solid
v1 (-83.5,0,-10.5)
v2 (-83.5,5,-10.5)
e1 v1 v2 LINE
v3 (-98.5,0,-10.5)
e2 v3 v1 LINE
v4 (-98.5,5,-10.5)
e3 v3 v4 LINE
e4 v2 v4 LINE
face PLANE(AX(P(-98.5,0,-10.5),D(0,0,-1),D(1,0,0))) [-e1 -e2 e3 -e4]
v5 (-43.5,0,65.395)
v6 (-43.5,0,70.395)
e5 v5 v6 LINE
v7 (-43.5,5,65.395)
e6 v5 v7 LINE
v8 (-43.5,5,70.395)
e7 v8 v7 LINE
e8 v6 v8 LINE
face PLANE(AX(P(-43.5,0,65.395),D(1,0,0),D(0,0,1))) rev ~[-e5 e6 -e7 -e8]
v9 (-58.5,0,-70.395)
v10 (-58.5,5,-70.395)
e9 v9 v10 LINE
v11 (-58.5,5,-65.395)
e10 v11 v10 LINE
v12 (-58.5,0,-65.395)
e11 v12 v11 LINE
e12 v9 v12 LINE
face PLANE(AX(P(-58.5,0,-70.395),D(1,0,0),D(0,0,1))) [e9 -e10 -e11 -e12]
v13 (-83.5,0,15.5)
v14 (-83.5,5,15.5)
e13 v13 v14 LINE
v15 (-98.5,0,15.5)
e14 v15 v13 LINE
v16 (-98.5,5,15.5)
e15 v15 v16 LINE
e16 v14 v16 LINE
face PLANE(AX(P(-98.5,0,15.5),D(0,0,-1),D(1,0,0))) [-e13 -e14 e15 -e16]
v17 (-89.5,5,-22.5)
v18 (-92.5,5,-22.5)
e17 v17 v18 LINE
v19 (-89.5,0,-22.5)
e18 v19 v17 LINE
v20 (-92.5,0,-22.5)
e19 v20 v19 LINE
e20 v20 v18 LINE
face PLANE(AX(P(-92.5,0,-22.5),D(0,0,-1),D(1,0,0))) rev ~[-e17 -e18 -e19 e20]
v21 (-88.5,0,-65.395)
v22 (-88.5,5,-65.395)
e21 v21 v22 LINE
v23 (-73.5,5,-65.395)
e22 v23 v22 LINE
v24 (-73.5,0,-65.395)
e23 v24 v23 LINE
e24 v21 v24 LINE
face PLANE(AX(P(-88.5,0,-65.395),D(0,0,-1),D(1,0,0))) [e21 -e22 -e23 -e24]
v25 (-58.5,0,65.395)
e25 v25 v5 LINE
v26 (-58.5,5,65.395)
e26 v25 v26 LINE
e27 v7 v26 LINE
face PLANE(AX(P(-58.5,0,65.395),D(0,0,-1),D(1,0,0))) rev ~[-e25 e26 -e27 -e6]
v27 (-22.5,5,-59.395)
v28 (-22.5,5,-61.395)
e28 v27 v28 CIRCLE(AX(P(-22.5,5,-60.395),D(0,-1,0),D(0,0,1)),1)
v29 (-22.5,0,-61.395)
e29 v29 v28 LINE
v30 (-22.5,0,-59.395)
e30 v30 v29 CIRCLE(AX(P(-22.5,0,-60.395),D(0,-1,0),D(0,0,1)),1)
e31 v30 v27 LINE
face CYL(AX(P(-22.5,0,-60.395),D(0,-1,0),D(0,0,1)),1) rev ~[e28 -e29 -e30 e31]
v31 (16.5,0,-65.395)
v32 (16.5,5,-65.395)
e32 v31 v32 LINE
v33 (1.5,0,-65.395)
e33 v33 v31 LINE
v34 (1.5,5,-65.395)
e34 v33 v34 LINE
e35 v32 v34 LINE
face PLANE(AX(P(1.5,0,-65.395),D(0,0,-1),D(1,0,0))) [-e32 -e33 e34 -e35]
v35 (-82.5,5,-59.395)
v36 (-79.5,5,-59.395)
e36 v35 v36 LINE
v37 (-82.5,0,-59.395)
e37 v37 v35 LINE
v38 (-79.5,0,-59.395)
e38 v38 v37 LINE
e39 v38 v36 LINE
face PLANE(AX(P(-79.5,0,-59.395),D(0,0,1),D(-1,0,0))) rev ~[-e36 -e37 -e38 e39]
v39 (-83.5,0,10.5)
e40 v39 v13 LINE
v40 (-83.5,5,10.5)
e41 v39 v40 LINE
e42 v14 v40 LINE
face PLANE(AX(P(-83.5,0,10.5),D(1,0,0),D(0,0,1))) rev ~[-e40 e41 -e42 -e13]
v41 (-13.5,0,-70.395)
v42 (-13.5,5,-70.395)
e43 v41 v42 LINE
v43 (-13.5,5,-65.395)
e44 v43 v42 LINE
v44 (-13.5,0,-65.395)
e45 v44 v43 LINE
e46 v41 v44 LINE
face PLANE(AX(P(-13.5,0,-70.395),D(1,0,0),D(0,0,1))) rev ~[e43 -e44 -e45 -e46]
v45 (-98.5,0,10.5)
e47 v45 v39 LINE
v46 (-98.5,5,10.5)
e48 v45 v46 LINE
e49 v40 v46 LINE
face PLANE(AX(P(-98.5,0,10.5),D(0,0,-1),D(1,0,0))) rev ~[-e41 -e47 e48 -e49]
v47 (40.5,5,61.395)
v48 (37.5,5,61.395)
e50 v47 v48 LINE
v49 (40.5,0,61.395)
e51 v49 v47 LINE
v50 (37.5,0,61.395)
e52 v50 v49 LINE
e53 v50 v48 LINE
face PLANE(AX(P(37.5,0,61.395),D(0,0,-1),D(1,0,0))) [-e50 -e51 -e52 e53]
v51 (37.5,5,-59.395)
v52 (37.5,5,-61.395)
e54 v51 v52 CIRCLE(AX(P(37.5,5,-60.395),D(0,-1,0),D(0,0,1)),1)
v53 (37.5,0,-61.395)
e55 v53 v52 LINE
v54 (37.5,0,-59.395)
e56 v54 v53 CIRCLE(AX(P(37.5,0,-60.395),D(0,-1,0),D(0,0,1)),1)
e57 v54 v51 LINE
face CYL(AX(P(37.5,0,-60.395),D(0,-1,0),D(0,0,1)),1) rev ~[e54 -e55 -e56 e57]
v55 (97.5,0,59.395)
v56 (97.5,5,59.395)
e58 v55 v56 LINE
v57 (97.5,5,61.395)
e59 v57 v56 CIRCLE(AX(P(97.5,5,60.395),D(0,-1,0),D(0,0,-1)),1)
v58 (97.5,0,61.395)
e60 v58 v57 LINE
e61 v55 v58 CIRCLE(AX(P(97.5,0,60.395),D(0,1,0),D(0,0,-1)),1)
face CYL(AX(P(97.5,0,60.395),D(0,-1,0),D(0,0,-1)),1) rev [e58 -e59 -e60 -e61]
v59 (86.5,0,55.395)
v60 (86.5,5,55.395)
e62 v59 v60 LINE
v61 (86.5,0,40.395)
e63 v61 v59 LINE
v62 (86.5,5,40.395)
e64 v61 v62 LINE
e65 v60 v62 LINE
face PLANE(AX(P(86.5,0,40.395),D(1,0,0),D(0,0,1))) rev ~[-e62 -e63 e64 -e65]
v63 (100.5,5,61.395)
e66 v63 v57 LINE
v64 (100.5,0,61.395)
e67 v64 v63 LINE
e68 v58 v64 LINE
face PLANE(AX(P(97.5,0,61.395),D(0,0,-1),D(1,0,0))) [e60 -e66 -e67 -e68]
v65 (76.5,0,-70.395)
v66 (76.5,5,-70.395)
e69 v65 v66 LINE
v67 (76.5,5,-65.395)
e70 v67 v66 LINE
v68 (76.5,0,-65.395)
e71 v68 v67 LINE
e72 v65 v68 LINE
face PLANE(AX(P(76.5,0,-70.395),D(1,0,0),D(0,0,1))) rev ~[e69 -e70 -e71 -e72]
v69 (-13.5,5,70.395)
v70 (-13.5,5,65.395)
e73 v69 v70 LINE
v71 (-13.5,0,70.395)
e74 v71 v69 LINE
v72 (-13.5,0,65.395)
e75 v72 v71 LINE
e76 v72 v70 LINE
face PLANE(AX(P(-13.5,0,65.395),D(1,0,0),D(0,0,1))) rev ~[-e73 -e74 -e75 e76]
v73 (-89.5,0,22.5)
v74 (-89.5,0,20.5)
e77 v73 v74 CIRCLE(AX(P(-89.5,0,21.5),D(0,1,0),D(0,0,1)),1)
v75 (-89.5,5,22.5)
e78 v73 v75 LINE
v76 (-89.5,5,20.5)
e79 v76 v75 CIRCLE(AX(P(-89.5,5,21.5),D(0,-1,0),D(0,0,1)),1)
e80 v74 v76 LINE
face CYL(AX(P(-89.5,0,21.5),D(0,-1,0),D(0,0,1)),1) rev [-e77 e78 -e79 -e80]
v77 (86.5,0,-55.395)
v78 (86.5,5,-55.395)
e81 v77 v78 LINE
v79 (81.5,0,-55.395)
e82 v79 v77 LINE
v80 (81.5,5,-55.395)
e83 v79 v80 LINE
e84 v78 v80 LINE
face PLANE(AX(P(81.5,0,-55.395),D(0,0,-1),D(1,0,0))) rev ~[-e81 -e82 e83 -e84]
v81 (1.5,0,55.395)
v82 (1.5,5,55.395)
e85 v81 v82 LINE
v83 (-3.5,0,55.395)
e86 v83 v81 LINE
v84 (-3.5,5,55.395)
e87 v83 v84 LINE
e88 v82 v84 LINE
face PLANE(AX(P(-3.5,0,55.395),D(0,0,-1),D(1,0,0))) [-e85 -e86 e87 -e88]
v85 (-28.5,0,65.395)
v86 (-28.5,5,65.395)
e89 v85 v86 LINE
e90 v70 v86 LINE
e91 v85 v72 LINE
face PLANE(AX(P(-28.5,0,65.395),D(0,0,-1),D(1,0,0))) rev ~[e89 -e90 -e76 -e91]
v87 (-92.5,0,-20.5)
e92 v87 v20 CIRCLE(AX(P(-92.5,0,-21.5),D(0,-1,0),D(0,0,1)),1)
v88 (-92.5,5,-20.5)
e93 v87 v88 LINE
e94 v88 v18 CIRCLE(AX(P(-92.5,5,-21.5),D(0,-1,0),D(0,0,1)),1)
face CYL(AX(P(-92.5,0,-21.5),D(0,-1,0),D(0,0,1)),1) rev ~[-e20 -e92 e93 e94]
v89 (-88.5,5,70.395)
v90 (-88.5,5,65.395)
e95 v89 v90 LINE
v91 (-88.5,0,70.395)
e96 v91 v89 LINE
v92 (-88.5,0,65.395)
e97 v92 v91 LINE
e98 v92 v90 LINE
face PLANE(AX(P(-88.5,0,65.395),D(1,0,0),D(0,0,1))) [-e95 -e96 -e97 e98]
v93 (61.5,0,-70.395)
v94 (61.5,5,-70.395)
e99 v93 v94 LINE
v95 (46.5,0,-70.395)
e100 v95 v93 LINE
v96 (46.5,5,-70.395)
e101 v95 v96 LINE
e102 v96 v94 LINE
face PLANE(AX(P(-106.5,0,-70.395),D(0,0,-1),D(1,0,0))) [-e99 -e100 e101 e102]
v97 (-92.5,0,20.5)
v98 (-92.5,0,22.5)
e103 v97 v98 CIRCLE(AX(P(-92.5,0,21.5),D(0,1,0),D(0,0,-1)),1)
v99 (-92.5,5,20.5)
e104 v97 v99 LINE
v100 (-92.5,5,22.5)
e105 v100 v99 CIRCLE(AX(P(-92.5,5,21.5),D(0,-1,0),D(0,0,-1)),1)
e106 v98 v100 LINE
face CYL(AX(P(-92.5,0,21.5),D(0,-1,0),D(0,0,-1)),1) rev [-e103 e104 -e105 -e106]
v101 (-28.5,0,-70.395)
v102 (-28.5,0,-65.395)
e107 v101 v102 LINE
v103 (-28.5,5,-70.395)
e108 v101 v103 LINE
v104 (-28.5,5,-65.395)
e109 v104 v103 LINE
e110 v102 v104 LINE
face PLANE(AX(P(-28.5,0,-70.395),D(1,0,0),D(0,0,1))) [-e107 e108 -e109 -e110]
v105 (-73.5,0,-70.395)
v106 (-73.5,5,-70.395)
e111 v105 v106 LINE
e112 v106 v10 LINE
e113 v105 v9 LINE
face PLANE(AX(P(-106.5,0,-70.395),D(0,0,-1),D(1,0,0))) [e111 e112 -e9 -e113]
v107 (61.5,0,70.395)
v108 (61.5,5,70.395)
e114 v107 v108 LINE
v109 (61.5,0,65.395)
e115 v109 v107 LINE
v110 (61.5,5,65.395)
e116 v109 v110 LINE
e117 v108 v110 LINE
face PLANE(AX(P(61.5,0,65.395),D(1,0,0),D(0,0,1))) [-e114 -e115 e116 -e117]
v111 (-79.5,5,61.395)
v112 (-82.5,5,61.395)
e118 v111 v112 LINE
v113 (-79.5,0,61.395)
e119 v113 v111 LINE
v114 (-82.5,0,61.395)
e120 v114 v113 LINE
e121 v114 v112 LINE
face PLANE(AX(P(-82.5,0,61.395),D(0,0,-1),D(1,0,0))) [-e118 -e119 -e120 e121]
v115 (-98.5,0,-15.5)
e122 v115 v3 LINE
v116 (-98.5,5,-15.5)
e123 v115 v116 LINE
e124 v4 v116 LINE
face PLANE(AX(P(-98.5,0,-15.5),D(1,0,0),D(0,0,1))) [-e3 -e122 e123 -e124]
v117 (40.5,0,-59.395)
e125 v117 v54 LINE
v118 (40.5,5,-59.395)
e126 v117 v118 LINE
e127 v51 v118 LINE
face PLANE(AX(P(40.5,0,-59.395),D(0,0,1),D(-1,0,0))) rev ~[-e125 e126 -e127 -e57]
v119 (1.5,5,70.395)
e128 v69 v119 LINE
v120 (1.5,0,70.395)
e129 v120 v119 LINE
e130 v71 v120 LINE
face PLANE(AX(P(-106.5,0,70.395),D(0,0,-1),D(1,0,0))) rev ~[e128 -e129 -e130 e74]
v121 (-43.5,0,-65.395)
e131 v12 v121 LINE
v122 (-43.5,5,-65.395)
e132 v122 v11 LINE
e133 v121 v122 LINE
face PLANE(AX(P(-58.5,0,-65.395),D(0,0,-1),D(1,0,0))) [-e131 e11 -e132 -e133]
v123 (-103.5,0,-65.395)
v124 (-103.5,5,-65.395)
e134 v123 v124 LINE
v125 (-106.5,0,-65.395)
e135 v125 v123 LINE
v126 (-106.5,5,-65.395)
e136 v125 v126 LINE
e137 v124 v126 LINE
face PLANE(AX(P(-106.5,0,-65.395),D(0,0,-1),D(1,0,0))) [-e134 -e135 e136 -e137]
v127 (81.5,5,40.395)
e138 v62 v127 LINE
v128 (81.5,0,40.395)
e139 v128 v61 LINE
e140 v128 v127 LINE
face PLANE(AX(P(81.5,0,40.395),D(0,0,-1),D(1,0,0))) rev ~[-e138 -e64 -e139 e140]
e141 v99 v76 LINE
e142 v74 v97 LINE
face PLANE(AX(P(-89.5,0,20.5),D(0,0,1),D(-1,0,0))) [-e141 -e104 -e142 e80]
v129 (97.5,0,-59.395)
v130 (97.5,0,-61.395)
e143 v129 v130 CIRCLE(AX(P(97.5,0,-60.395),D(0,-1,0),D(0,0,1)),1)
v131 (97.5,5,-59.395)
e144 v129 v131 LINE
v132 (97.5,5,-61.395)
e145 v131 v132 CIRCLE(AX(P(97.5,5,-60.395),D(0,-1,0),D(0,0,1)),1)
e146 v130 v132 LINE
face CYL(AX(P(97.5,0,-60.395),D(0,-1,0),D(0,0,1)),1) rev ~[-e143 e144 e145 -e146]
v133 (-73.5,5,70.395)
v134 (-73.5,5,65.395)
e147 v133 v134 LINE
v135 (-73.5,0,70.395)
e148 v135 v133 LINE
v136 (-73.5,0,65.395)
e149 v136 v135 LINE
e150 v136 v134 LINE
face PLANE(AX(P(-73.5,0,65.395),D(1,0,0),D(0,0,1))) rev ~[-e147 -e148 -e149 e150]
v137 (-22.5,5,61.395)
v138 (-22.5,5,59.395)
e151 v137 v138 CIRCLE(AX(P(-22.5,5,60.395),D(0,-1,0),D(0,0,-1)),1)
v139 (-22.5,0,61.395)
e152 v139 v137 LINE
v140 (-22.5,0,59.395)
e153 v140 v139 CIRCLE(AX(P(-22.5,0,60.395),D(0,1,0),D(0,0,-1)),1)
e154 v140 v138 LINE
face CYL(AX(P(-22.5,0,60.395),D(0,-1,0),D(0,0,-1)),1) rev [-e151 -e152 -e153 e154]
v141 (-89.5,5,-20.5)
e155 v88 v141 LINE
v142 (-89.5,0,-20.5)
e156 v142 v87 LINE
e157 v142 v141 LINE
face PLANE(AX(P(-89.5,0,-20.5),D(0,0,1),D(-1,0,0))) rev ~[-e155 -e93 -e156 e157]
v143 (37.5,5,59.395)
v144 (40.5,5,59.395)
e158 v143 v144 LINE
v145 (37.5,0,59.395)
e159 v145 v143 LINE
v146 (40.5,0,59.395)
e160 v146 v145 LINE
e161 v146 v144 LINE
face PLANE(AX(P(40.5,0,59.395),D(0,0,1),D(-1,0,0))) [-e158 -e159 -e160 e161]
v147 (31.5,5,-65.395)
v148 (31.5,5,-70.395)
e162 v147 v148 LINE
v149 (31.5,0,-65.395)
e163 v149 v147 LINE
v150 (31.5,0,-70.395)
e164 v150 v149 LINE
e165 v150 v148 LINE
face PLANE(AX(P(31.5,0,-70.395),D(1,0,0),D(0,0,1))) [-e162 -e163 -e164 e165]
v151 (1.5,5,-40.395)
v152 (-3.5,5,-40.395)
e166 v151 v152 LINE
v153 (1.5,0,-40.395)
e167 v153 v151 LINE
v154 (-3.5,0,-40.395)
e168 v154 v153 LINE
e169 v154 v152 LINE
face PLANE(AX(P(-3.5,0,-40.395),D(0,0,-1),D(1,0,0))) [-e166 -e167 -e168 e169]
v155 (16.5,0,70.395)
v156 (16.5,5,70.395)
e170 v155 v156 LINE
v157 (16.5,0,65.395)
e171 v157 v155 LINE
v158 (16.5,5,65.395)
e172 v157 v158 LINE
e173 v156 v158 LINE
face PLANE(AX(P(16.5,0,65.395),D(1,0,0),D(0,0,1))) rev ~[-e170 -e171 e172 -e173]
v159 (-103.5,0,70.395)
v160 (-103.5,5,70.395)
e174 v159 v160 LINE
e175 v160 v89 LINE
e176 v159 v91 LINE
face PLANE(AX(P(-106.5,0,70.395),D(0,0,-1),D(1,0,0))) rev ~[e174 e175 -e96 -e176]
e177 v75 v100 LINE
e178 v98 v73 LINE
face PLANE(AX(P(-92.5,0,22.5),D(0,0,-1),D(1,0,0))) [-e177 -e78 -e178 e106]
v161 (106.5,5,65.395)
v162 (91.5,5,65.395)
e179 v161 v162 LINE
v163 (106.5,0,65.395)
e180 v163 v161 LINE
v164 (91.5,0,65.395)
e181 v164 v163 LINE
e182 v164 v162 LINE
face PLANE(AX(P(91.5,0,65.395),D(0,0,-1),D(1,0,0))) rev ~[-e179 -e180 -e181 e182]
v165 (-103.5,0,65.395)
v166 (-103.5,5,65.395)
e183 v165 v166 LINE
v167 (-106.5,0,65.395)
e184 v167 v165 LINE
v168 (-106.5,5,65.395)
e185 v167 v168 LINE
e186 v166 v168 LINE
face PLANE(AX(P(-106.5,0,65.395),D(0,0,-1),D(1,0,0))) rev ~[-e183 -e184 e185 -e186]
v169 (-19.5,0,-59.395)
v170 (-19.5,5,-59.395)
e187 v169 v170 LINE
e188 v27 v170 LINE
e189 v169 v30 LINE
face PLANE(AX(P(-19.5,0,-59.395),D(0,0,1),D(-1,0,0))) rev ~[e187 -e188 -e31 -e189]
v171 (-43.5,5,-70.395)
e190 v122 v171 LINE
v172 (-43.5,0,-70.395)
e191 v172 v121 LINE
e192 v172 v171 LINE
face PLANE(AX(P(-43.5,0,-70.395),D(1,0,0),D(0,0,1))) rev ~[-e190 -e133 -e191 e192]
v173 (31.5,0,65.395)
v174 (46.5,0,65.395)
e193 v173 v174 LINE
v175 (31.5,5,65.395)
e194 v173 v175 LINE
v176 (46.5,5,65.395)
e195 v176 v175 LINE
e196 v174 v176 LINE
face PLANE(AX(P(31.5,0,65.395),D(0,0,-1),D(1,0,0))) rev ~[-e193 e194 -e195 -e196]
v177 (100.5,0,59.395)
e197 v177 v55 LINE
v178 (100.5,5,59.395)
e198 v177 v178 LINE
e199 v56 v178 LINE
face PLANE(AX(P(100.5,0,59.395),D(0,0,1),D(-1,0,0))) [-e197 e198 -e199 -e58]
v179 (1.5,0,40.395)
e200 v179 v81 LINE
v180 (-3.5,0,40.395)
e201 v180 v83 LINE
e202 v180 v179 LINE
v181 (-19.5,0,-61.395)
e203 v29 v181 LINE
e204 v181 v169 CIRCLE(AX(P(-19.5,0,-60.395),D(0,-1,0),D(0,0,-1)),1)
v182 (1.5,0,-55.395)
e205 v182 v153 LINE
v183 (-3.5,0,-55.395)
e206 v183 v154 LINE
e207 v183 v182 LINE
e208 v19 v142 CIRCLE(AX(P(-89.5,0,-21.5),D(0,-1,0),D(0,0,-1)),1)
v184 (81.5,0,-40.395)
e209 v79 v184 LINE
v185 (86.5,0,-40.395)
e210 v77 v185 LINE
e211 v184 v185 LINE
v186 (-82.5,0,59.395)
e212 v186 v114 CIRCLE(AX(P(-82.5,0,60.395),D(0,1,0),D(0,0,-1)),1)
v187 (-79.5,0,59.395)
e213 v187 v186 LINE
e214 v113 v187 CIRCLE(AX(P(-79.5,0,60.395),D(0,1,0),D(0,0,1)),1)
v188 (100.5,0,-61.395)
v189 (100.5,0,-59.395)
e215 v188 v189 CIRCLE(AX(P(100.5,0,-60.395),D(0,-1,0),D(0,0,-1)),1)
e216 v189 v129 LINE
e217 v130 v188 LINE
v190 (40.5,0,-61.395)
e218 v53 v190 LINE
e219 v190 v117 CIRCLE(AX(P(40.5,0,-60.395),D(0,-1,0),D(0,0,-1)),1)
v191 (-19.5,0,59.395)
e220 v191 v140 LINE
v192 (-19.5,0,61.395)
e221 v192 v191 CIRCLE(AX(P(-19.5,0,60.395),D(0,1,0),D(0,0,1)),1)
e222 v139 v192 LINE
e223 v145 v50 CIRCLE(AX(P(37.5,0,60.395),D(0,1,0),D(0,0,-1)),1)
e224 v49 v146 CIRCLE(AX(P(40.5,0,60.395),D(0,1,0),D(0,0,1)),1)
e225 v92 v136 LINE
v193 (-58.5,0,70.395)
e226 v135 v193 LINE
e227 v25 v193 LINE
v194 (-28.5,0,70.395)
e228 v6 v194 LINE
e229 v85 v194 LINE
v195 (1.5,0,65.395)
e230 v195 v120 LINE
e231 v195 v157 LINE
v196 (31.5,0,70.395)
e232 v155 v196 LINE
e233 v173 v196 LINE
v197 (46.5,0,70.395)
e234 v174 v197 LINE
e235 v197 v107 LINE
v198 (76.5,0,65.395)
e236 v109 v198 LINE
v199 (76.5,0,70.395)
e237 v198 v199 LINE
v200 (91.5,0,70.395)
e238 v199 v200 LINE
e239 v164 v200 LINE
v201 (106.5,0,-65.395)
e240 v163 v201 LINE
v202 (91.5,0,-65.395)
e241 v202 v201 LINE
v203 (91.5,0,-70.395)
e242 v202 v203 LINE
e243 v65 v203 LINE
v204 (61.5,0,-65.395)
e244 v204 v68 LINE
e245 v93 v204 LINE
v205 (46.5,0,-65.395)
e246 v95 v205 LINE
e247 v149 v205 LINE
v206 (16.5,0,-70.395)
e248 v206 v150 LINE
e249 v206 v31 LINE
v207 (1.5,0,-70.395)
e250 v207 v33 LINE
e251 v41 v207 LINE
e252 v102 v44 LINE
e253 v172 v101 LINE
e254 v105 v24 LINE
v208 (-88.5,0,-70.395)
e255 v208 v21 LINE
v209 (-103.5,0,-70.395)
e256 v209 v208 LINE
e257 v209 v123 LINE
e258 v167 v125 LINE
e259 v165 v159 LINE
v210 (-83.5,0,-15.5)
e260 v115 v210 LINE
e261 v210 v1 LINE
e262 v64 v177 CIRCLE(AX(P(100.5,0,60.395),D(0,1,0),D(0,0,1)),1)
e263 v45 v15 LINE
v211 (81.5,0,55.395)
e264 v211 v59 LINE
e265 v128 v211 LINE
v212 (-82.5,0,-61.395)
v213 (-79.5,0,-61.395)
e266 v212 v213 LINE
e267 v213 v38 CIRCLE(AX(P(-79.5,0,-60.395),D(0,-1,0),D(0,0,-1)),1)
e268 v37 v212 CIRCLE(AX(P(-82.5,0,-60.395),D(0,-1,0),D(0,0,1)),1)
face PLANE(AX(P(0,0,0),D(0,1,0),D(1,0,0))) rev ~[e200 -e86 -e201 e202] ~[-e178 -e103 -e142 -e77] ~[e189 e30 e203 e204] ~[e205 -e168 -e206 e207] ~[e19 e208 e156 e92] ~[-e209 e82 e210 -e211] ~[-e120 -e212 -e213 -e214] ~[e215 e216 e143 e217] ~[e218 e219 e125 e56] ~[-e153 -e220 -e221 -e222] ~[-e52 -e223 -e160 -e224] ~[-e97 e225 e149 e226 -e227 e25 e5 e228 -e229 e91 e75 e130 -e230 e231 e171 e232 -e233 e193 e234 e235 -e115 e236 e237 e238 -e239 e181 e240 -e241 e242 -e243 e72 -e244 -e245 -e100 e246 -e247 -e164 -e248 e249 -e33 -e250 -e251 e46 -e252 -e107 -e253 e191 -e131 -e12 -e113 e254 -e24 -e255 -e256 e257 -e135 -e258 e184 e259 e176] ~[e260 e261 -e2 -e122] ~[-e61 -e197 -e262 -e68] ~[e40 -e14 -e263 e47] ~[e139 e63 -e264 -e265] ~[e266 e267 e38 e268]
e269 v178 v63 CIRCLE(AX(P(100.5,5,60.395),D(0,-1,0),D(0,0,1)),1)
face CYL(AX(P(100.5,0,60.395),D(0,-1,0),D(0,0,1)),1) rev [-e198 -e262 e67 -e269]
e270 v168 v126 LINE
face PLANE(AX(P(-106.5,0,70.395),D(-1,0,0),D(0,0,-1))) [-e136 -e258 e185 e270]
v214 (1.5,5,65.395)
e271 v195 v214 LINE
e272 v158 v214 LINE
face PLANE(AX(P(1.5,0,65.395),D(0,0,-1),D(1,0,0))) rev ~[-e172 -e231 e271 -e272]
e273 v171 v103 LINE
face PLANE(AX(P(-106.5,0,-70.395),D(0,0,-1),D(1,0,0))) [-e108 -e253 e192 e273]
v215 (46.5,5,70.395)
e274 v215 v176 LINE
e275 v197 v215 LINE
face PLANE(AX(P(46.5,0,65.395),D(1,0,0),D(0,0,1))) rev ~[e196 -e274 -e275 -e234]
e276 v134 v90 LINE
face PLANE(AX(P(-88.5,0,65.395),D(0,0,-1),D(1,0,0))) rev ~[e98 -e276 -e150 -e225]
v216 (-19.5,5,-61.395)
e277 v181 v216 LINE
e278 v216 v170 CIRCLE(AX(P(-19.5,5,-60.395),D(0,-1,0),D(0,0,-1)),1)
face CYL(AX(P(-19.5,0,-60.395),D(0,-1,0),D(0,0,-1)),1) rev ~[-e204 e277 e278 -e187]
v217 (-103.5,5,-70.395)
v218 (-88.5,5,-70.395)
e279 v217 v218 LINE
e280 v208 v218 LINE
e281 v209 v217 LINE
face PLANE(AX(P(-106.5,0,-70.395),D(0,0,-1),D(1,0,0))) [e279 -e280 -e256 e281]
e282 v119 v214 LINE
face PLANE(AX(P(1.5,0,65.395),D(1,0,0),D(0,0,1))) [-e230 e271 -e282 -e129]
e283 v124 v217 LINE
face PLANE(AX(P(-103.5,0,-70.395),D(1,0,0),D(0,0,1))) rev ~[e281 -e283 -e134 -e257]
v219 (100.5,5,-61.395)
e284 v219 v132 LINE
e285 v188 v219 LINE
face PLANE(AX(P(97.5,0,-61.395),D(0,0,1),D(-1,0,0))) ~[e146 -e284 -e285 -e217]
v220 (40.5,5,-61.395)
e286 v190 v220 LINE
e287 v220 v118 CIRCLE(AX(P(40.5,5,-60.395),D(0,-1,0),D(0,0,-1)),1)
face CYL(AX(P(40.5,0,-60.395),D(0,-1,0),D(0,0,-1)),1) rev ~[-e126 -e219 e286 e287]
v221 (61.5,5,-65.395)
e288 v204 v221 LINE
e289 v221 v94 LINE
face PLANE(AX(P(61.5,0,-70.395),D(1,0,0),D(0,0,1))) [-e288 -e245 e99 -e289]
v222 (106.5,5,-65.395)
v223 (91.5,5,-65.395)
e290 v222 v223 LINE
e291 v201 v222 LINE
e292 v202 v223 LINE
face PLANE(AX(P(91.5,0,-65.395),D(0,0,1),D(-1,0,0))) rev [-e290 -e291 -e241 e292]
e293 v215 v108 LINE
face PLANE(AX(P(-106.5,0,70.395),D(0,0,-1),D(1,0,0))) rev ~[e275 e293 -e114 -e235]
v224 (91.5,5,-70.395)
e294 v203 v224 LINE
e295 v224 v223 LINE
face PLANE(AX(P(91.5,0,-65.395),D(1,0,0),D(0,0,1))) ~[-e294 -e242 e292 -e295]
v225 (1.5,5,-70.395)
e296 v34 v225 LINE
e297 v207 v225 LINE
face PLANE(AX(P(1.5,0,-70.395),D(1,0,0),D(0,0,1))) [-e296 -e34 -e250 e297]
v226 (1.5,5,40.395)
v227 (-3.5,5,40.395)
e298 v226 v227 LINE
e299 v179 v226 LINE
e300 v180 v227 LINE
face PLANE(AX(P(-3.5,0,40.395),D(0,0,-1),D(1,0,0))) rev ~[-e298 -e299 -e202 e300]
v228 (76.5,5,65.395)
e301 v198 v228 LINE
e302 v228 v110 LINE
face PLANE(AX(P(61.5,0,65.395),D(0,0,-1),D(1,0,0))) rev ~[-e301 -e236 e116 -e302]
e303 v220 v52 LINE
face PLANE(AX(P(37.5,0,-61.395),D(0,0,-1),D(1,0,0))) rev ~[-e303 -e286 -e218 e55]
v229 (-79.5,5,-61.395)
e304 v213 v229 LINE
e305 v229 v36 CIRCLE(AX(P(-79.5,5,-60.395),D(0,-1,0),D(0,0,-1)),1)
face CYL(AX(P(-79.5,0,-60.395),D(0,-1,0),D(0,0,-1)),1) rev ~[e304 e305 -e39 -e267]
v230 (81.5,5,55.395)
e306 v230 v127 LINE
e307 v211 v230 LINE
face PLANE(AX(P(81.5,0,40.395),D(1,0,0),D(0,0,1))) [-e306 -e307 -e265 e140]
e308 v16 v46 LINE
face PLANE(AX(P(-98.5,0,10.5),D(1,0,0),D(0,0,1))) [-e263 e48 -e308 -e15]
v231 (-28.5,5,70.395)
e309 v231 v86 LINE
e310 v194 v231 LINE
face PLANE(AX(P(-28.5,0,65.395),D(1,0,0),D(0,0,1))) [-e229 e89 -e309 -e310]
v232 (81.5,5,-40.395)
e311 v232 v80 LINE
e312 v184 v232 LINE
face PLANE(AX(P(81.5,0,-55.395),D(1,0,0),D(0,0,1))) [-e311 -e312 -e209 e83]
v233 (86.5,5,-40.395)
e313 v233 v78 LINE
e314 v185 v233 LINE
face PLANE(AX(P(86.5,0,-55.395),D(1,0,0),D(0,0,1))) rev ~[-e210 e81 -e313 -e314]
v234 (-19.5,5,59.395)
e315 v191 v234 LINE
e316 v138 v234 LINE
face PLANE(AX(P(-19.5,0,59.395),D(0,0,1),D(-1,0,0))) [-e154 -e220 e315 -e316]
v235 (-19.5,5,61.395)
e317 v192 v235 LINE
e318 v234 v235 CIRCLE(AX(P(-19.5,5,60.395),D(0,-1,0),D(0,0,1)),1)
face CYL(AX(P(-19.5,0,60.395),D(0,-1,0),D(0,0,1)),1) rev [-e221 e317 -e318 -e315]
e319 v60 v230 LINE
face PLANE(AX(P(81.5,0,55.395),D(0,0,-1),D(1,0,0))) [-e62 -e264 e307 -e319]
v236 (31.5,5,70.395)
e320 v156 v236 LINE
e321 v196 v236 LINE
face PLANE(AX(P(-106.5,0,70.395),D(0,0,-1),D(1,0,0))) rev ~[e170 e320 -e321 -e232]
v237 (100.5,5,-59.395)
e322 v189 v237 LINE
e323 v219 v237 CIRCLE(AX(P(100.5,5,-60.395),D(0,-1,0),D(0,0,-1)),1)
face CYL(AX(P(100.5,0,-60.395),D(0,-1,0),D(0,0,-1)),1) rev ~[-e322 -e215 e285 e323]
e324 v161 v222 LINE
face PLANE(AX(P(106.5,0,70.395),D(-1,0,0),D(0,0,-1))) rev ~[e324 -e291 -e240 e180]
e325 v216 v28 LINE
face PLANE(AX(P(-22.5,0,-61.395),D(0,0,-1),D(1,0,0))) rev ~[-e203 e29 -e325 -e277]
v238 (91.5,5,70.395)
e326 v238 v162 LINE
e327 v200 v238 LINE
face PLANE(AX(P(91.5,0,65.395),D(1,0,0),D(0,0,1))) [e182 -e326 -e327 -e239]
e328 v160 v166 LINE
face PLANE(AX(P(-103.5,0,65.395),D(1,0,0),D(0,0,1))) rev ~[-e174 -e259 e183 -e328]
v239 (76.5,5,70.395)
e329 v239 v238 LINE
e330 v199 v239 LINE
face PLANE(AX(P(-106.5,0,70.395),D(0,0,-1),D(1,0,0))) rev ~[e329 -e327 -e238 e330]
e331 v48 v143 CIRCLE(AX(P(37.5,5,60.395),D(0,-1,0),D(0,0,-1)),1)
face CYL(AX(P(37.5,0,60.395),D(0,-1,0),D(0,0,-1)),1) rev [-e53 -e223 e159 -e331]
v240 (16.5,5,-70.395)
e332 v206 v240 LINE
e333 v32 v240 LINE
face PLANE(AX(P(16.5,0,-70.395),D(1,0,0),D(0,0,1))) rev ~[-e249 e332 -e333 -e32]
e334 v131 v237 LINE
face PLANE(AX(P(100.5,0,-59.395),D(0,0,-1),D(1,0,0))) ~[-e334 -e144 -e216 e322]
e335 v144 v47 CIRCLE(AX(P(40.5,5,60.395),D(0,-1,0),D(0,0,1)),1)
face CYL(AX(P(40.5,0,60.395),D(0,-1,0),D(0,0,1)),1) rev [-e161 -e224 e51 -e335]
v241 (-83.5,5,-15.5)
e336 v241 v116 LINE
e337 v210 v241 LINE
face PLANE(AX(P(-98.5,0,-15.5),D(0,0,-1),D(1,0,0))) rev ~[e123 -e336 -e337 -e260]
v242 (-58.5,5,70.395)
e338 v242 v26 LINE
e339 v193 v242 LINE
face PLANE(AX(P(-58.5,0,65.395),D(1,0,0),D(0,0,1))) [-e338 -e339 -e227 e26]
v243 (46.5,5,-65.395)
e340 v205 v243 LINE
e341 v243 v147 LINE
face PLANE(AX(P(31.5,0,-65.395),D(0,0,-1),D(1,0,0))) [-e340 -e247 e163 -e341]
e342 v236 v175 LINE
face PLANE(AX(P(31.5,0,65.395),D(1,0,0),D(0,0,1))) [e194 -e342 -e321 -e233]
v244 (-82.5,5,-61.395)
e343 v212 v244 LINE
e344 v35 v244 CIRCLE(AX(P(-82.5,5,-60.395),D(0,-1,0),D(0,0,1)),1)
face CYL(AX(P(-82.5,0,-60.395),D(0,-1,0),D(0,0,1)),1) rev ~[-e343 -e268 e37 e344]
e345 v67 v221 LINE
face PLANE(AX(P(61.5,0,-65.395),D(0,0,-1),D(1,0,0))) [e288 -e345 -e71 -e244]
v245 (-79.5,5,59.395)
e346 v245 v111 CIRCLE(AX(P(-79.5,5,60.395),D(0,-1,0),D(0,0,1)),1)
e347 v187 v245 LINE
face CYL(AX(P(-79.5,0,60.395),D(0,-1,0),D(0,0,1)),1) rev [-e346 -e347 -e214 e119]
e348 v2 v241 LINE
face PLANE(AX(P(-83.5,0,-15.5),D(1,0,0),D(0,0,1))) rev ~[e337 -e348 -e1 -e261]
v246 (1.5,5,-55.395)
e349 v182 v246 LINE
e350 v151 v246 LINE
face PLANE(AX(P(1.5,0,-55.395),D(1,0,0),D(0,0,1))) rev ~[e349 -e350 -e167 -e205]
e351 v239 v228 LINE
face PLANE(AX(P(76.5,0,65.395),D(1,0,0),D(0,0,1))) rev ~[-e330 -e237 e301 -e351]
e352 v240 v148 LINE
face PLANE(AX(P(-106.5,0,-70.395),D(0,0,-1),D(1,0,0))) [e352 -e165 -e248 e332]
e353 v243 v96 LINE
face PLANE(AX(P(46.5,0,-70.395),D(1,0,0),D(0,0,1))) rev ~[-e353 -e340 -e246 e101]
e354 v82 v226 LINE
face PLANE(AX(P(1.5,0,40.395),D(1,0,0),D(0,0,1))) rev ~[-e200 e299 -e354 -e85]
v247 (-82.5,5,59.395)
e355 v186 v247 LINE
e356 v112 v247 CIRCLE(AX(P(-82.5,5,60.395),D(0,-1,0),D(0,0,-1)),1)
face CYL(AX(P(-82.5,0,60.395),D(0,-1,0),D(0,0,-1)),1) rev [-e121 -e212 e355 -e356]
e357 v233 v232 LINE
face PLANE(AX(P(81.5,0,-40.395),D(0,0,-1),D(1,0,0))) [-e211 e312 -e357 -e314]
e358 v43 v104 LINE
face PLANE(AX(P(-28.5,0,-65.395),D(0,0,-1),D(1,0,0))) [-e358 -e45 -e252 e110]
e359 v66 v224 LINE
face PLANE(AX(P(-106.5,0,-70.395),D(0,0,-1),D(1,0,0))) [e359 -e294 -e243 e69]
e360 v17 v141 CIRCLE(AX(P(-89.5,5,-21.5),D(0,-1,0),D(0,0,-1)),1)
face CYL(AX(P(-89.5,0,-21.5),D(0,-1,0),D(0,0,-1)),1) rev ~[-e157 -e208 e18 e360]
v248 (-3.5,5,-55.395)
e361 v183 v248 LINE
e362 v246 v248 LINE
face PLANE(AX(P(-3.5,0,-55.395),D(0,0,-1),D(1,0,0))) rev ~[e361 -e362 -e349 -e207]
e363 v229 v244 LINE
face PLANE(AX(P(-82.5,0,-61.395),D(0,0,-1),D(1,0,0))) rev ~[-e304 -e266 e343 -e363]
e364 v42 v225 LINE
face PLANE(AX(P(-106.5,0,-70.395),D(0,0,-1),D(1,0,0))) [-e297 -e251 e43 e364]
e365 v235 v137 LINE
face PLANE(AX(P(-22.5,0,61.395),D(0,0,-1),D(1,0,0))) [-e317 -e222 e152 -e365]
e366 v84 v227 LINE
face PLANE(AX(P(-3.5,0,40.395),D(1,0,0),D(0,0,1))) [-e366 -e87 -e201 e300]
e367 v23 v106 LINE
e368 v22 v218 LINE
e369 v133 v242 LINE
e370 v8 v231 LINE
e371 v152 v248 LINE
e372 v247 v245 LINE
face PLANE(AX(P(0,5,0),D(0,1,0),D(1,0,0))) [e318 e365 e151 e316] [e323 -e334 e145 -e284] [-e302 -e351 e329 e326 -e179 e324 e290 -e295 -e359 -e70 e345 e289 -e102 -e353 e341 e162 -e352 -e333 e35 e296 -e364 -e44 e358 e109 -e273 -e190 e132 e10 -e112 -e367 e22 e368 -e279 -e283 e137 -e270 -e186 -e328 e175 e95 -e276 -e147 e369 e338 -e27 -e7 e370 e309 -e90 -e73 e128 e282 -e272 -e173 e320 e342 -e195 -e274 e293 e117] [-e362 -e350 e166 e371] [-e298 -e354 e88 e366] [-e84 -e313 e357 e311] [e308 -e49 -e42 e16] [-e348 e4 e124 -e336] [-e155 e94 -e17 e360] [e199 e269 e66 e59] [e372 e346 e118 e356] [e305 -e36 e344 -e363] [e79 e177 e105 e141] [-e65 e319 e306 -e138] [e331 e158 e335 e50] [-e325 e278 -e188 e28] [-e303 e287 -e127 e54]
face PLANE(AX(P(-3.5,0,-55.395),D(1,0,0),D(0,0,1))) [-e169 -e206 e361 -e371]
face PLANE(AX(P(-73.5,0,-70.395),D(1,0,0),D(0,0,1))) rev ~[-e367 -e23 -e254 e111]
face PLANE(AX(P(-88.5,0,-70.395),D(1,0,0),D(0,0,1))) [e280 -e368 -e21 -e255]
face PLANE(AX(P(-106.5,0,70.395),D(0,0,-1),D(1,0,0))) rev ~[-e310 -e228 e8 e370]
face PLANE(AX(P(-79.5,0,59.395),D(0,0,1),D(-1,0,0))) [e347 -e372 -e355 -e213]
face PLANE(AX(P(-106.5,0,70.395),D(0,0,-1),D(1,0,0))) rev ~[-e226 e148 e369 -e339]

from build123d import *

# Parameters (mm, degrees)
SKETCH1_W                 = 213
SKETCH1_H                 = 140.79
BOSS_EXTRUDE1_DEPTH       = 5
SKETCH2_W                 = 15
SKETCH2_H                 = 5
CUT_EXTRUDE1_DEPTH        = 128.760346059
CUT_EXTRUDE3_DEPTH        = 128.760346059
LPATTERN2_COUNT           = 4
LPATTERN2_PITCH           = 60
LPATTERN1_COUNT           = 7
LPATTERN1_PITCH           = 30
LPATTERN1_COPY_1_SKETCH_W = 15
LPATTERN1_COPY_1_SKETCH_H = 5
LPATTERN1_COPY_1_DEPTH    = 128.760346059
LPATTERN1_COPY_2_SKETCH_W = 15
LPATTERN1_COPY_2_SKETCH_H = 5
LPATTERN1_COPY_2_DEPTH    = 128.760346059
LPATTERN1_COPY_3_SKETCH_W = 15
LPATTERN1_COPY_3_SKETCH_H = 5
LPATTERN1_COPY_3_DEPTH    = 128.760346059
LPATTERN1_COPY_4_SKETCH_W = 15
LPATTERN1_COPY_4_SKETCH_H = 5
LPATTERN1_COPY_4_DEPTH    = 128.760346059
LPATTERN1_COPY_5_SKETCH_W = 15
LPATTERN1_COPY_5_SKETCH_H = 5
LPATTERN1_COPY_5_DEPTH    = 128.760346059
LPATTERN1_COPY_6_SKETCH_W = 15
LPATTERN1_COPY_6_SKETCH_H = 5
LPATTERN1_COPY_6_DEPTH    = 128.760346059
SKETCH3_W                 = 5
SKETCH3_H                 = 15
SKETCH3_W_2               = 15
SKETCH3_H_2               = 5
CUT_EXTRUDE2_DEPTH        = 128.760346059
MIRROR2_COPY_1_DEPTH      = 128.760346059
MIRROR2_COPY_2_DEPTH      = 128.760346059
MIRROR2_COPY_3_DEPTH      = 128.760346059
CUT_EXTRUDE4_DEPTH        = 128.760346059
SKETCH7_W                 = 3
SKETCH7_H                 = 5
CUT_EXTRUDE5_DEPTH        = 128.760346059


with BuildPart() as part:
    # Sketch1 → Boss-Extrude1 (new body)
    with BuildSketch(Plane(origin=(0, 0, 0), x_dir=(1, 0, 0), z_dir=(0, 1, 0))):
        Rectangle(SKETCH1_W, SKETCH1_H)
    extrude(amount=BOSS_EXTRUDE1_DEPTH)

    # Sketch2 → Cut-Extrude1 (cut, through all)
    with BuildSketch(Plane.XZ):
        with Locations((99, 67.895)):
            Rectangle(SKETCH2_W, SKETCH2_H)
    cut_extrude1 = extrude(amount=-CUT_EXTRUDE1_DEPTH, mode=Mode.SUBTRACT)

    # Sketch5 → Cut-Extrude3 (cut, through all)
    with BuildSketch(Plane.XZ):
        with BuildLine():
            Line((100.5, 59.395), (97.5, 59.395))
            ThreePointArc((97.5, 59.395), (96.5, 60.395), (97.5, 61.395))
            Line((97.5, 61.395), (100.5, 61.395))
            ThreePointArc((100.5, 61.395), (101.5, 60.395), (100.5, 59.395))
        make_face()
    cut_extrude3 = extrude(amount=-CUT_EXTRUDE3_DEPTH, mode=Mode.SUBTRACT)

    # LPattern2: Cut-Extrude3 ×4
    with Locations(*[(-i * LPATTERN2_PITCH, 0, 0) for i in range(1, LPATTERN2_COUNT)]):
        add(cut_extrude3, mode=Mode.SUBTRACT)

    # Mirror1: Cut-Extrude1 across plane
    add(cut_extrude1.mirror(Plane.XY), mode=Mode.SUBTRACT)

    # LPattern1: Cut-Extrude1 ×7
    with Locations(*[(-i * LPATTERN1_PITCH, 0, 0) for i in range(1, LPATTERN1_COUNT)]):
        add(cut_extrude1, mode=Mode.SUBTRACT)

    # LPattern1 copy 1 sketch → LPattern1 copy 1 (cut, through all)
    with BuildSketch(Plane(origin=(-30, 0, 0), x_dir=(1, 0, 0), z_dir=(0, -1, 0))):
        with Locations((99, -67.895)):
            Rectangle(LPATTERN1_COPY_1_SKETCH_W, LPATTERN1_COPY_1_SKETCH_H)
    extrude(amount=-LPATTERN1_COPY_1_DEPTH, mode=Mode.SUBTRACT)

    # LPattern1 copy 2 sketch → LPattern1 copy 2 (cut, through all)
    with BuildSketch(Plane(origin=(-60, 0, 0), x_dir=(1, 0, 0), z_dir=(0, -1, 0))):
        with Locations((99, -67.895)):
            Rectangle(LPATTERN1_COPY_2_SKETCH_W, LPATTERN1_COPY_2_SKETCH_H)
    extrude(amount=-LPATTERN1_COPY_2_DEPTH, mode=Mode.SUBTRACT)

    # LPattern1 copy 3 sketch → LPattern1 copy 3 (cut, through all)
    with BuildSketch(Plane(origin=(-90, 0, 0), x_dir=(1, 0, 0), z_dir=(0, -1, 0))):
        with Locations((99, -67.895)):
            Rectangle(LPATTERN1_COPY_3_SKETCH_W, LPATTERN1_COPY_3_SKETCH_H)
    extrude(amount=-LPATTERN1_COPY_3_DEPTH, mode=Mode.SUBTRACT)

    # LPattern1 copy 4 sketch → LPattern1 copy 4 (cut, through all)
    with BuildSketch(Plane(origin=(-120, 0, 0), x_dir=(1, 0, 0), z_dir=(0, -1, 0))):
        with Locations((99, -67.895)):
            Rectangle(LPATTERN1_COPY_4_SKETCH_W, LPATTERN1_COPY_4_SKETCH_H)
    extrude(amount=-LPATTERN1_COPY_4_DEPTH, mode=Mode.SUBTRACT)

    # LPattern1 copy 5 sketch → LPattern1 copy 5 (cut, through all)
    with BuildSketch(Plane(origin=(-150, 0, 0), x_dir=(1, 0, 0), z_dir=(0, -1, 0))):
        with Locations((99, -67.895)):
            Rectangle(LPATTERN1_COPY_5_SKETCH_W, LPATTERN1_COPY_5_SKETCH_H)
    extrude(amount=-LPATTERN1_COPY_5_DEPTH, mode=Mode.SUBTRACT)

    # LPattern1 copy 6 sketch → LPattern1 copy 6 (cut, through all)
    with BuildSketch(Plane(origin=(-180, 0, 0), x_dir=(1, 0, 0), z_dir=(0, -1, 0))):
        with Locations((99, -67.895)):
            Rectangle(LPATTERN1_COPY_6_SKETCH_W, LPATTERN1_COPY_6_SKETCH_H)
    extrude(amount=-LPATTERN1_COPY_6_DEPTH, mode=Mode.SUBTRACT)

    # Sketch3 → Cut-Extrude2 (cut, through all)
    with BuildSketch(Plane.XZ):
        with Locations((-1, 47.895)):
            Rectangle(SKETCH3_W, SKETCH3_H)
        with Locations((-1, -47.895)):
            Rectangle(SKETCH3_W, SKETCH3_H)
        with Locations((84, -47.895)):
            Rectangle(SKETCH3_W, SKETCH3_H)
        with Locations((84, 47.895)):
            Rectangle(SKETCH3_W, SKETCH3_H)
        with Locations((-91, 13)):
            Rectangle(SKETCH3_W_2, SKETCH3_H_2)
        with Locations((-91, -13)):
            Rectangle(SKETCH3_W_2, SKETCH3_H_2)
    extrude(amount=-CUT_EXTRUDE2_DEPTH, mode=Mode.SUBTRACT)

    # Mirror2: Cut-Extrude3 across plane
    add(cut_extrude3.mirror(Plane.XY), mode=Mode.SUBTRACT)

    # Mirror2 copy 1 sketch → Mirror2 copy 1 (cut, through all)
    with BuildSketch(Plane(origin=(-60, 0, 0), x_dir=(1, 0, 0), z_dir=(0, -1, 0))):
        with BuildLine():
            Line((100.5, -59.395), (97.5, -59.395))
            ThreePointArc((97.5, -59.395), (96.5, -60.395), (97.5, -61.395))
            Line((97.5, -61.395), (100.5, -61.395))
            ThreePointArc((100.5, -61.395), (101.5, -60.395), (100.5, -59.395))
        make_face()
    extrude(amount=-MIRROR2_COPY_1_DEPTH, mode=Mode.SUBTRACT)

    # Mirror2 copy 2 sketch → Mirror2 copy 2 (cut, through all)
    with BuildSketch(Plane(origin=(-120, 0, 0), x_dir=(1, 0, 0), z_dir=(0, -1, 0))):
        with BuildLine():
            Line((100.5, -59.395), (97.5, -59.395))
            ThreePointArc((97.5, -59.395), (96.5, -60.395), (97.5, -61.395))
            Line((97.5, -61.395), (100.5, -61.395))
            ThreePointArc((100.5, -61.395), (101.5, -60.395), (100.5, -59.395))
        make_face()
    extrude(amount=-MIRROR2_COPY_2_DEPTH, mode=Mode.SUBTRACT)

    # Mirror2 copy 3 sketch → Mirror2 copy 3 (cut, through all)
    with BuildSketch(Plane(origin=(-180, 0, 0), x_dir=(1, 0, 0), z_dir=(0, -1, 0))):
        with BuildLine():
            Line((100.5, -59.395), (97.5, -59.395))
            ThreePointArc((97.5, -59.395), (96.5, -60.395), (97.5, -61.395))
            Line((97.5, -61.395), (100.5, -61.395))
            ThreePointArc((100.5, -61.395), (101.5, -60.395), (100.5, -59.395))
        make_face()
    extrude(amount=-MIRROR2_COPY_3_DEPTH, mode=Mode.SUBTRACT)

    # Sketch6 → Cut-Extrude4 (cut, through all)
    with BuildSketch(Plane.XZ):
        with BuildLine():
            Line((-92.5, 22.5), (-89.5, 22.5))
            ThreePointArc((-89.5, 22.5), (-88.5, 21.5), (-89.5, 20.5))
            Line((-89.5, 20.5), (-92.5, 20.5))
            ThreePointArc((-92.5, 20.5), (-93.5, 21.5), (-92.5, 22.5))
        make_face()
        with BuildLine():
            Line((-92.5, -22.5), (-89.5, -22.5))
            ThreePointArc((-89.5, -22.5), (-88.5, -21.5), (-89.5, -20.5))
            Line((-89.5, -20.5), (-92.5, -20.5))
            ThreePointArc((-92.5, -20.5), (-93.5, -21.5), (-92.5, -22.5))
        make_face()
    extrude(amount=-CUT_EXTRUDE4_DEPTH, mode=Mode.SUBTRACT)

    # Sketch7 → Cut-Extrude5 (cut, through all)
    with BuildSketch(Plane.XZ):
        with Locations((-105, 67.895)):
            Rectangle(SKETCH7_W, SKETCH7_H)
        with Locations((-105, -67.895)):
            Rectangle(SKETCH7_W, SKETCH7_H)
    extrude(amount=-CUT_EXTRUDE5_DEPTH, mode=Mode.SUBTRACT)


solid = part.part
